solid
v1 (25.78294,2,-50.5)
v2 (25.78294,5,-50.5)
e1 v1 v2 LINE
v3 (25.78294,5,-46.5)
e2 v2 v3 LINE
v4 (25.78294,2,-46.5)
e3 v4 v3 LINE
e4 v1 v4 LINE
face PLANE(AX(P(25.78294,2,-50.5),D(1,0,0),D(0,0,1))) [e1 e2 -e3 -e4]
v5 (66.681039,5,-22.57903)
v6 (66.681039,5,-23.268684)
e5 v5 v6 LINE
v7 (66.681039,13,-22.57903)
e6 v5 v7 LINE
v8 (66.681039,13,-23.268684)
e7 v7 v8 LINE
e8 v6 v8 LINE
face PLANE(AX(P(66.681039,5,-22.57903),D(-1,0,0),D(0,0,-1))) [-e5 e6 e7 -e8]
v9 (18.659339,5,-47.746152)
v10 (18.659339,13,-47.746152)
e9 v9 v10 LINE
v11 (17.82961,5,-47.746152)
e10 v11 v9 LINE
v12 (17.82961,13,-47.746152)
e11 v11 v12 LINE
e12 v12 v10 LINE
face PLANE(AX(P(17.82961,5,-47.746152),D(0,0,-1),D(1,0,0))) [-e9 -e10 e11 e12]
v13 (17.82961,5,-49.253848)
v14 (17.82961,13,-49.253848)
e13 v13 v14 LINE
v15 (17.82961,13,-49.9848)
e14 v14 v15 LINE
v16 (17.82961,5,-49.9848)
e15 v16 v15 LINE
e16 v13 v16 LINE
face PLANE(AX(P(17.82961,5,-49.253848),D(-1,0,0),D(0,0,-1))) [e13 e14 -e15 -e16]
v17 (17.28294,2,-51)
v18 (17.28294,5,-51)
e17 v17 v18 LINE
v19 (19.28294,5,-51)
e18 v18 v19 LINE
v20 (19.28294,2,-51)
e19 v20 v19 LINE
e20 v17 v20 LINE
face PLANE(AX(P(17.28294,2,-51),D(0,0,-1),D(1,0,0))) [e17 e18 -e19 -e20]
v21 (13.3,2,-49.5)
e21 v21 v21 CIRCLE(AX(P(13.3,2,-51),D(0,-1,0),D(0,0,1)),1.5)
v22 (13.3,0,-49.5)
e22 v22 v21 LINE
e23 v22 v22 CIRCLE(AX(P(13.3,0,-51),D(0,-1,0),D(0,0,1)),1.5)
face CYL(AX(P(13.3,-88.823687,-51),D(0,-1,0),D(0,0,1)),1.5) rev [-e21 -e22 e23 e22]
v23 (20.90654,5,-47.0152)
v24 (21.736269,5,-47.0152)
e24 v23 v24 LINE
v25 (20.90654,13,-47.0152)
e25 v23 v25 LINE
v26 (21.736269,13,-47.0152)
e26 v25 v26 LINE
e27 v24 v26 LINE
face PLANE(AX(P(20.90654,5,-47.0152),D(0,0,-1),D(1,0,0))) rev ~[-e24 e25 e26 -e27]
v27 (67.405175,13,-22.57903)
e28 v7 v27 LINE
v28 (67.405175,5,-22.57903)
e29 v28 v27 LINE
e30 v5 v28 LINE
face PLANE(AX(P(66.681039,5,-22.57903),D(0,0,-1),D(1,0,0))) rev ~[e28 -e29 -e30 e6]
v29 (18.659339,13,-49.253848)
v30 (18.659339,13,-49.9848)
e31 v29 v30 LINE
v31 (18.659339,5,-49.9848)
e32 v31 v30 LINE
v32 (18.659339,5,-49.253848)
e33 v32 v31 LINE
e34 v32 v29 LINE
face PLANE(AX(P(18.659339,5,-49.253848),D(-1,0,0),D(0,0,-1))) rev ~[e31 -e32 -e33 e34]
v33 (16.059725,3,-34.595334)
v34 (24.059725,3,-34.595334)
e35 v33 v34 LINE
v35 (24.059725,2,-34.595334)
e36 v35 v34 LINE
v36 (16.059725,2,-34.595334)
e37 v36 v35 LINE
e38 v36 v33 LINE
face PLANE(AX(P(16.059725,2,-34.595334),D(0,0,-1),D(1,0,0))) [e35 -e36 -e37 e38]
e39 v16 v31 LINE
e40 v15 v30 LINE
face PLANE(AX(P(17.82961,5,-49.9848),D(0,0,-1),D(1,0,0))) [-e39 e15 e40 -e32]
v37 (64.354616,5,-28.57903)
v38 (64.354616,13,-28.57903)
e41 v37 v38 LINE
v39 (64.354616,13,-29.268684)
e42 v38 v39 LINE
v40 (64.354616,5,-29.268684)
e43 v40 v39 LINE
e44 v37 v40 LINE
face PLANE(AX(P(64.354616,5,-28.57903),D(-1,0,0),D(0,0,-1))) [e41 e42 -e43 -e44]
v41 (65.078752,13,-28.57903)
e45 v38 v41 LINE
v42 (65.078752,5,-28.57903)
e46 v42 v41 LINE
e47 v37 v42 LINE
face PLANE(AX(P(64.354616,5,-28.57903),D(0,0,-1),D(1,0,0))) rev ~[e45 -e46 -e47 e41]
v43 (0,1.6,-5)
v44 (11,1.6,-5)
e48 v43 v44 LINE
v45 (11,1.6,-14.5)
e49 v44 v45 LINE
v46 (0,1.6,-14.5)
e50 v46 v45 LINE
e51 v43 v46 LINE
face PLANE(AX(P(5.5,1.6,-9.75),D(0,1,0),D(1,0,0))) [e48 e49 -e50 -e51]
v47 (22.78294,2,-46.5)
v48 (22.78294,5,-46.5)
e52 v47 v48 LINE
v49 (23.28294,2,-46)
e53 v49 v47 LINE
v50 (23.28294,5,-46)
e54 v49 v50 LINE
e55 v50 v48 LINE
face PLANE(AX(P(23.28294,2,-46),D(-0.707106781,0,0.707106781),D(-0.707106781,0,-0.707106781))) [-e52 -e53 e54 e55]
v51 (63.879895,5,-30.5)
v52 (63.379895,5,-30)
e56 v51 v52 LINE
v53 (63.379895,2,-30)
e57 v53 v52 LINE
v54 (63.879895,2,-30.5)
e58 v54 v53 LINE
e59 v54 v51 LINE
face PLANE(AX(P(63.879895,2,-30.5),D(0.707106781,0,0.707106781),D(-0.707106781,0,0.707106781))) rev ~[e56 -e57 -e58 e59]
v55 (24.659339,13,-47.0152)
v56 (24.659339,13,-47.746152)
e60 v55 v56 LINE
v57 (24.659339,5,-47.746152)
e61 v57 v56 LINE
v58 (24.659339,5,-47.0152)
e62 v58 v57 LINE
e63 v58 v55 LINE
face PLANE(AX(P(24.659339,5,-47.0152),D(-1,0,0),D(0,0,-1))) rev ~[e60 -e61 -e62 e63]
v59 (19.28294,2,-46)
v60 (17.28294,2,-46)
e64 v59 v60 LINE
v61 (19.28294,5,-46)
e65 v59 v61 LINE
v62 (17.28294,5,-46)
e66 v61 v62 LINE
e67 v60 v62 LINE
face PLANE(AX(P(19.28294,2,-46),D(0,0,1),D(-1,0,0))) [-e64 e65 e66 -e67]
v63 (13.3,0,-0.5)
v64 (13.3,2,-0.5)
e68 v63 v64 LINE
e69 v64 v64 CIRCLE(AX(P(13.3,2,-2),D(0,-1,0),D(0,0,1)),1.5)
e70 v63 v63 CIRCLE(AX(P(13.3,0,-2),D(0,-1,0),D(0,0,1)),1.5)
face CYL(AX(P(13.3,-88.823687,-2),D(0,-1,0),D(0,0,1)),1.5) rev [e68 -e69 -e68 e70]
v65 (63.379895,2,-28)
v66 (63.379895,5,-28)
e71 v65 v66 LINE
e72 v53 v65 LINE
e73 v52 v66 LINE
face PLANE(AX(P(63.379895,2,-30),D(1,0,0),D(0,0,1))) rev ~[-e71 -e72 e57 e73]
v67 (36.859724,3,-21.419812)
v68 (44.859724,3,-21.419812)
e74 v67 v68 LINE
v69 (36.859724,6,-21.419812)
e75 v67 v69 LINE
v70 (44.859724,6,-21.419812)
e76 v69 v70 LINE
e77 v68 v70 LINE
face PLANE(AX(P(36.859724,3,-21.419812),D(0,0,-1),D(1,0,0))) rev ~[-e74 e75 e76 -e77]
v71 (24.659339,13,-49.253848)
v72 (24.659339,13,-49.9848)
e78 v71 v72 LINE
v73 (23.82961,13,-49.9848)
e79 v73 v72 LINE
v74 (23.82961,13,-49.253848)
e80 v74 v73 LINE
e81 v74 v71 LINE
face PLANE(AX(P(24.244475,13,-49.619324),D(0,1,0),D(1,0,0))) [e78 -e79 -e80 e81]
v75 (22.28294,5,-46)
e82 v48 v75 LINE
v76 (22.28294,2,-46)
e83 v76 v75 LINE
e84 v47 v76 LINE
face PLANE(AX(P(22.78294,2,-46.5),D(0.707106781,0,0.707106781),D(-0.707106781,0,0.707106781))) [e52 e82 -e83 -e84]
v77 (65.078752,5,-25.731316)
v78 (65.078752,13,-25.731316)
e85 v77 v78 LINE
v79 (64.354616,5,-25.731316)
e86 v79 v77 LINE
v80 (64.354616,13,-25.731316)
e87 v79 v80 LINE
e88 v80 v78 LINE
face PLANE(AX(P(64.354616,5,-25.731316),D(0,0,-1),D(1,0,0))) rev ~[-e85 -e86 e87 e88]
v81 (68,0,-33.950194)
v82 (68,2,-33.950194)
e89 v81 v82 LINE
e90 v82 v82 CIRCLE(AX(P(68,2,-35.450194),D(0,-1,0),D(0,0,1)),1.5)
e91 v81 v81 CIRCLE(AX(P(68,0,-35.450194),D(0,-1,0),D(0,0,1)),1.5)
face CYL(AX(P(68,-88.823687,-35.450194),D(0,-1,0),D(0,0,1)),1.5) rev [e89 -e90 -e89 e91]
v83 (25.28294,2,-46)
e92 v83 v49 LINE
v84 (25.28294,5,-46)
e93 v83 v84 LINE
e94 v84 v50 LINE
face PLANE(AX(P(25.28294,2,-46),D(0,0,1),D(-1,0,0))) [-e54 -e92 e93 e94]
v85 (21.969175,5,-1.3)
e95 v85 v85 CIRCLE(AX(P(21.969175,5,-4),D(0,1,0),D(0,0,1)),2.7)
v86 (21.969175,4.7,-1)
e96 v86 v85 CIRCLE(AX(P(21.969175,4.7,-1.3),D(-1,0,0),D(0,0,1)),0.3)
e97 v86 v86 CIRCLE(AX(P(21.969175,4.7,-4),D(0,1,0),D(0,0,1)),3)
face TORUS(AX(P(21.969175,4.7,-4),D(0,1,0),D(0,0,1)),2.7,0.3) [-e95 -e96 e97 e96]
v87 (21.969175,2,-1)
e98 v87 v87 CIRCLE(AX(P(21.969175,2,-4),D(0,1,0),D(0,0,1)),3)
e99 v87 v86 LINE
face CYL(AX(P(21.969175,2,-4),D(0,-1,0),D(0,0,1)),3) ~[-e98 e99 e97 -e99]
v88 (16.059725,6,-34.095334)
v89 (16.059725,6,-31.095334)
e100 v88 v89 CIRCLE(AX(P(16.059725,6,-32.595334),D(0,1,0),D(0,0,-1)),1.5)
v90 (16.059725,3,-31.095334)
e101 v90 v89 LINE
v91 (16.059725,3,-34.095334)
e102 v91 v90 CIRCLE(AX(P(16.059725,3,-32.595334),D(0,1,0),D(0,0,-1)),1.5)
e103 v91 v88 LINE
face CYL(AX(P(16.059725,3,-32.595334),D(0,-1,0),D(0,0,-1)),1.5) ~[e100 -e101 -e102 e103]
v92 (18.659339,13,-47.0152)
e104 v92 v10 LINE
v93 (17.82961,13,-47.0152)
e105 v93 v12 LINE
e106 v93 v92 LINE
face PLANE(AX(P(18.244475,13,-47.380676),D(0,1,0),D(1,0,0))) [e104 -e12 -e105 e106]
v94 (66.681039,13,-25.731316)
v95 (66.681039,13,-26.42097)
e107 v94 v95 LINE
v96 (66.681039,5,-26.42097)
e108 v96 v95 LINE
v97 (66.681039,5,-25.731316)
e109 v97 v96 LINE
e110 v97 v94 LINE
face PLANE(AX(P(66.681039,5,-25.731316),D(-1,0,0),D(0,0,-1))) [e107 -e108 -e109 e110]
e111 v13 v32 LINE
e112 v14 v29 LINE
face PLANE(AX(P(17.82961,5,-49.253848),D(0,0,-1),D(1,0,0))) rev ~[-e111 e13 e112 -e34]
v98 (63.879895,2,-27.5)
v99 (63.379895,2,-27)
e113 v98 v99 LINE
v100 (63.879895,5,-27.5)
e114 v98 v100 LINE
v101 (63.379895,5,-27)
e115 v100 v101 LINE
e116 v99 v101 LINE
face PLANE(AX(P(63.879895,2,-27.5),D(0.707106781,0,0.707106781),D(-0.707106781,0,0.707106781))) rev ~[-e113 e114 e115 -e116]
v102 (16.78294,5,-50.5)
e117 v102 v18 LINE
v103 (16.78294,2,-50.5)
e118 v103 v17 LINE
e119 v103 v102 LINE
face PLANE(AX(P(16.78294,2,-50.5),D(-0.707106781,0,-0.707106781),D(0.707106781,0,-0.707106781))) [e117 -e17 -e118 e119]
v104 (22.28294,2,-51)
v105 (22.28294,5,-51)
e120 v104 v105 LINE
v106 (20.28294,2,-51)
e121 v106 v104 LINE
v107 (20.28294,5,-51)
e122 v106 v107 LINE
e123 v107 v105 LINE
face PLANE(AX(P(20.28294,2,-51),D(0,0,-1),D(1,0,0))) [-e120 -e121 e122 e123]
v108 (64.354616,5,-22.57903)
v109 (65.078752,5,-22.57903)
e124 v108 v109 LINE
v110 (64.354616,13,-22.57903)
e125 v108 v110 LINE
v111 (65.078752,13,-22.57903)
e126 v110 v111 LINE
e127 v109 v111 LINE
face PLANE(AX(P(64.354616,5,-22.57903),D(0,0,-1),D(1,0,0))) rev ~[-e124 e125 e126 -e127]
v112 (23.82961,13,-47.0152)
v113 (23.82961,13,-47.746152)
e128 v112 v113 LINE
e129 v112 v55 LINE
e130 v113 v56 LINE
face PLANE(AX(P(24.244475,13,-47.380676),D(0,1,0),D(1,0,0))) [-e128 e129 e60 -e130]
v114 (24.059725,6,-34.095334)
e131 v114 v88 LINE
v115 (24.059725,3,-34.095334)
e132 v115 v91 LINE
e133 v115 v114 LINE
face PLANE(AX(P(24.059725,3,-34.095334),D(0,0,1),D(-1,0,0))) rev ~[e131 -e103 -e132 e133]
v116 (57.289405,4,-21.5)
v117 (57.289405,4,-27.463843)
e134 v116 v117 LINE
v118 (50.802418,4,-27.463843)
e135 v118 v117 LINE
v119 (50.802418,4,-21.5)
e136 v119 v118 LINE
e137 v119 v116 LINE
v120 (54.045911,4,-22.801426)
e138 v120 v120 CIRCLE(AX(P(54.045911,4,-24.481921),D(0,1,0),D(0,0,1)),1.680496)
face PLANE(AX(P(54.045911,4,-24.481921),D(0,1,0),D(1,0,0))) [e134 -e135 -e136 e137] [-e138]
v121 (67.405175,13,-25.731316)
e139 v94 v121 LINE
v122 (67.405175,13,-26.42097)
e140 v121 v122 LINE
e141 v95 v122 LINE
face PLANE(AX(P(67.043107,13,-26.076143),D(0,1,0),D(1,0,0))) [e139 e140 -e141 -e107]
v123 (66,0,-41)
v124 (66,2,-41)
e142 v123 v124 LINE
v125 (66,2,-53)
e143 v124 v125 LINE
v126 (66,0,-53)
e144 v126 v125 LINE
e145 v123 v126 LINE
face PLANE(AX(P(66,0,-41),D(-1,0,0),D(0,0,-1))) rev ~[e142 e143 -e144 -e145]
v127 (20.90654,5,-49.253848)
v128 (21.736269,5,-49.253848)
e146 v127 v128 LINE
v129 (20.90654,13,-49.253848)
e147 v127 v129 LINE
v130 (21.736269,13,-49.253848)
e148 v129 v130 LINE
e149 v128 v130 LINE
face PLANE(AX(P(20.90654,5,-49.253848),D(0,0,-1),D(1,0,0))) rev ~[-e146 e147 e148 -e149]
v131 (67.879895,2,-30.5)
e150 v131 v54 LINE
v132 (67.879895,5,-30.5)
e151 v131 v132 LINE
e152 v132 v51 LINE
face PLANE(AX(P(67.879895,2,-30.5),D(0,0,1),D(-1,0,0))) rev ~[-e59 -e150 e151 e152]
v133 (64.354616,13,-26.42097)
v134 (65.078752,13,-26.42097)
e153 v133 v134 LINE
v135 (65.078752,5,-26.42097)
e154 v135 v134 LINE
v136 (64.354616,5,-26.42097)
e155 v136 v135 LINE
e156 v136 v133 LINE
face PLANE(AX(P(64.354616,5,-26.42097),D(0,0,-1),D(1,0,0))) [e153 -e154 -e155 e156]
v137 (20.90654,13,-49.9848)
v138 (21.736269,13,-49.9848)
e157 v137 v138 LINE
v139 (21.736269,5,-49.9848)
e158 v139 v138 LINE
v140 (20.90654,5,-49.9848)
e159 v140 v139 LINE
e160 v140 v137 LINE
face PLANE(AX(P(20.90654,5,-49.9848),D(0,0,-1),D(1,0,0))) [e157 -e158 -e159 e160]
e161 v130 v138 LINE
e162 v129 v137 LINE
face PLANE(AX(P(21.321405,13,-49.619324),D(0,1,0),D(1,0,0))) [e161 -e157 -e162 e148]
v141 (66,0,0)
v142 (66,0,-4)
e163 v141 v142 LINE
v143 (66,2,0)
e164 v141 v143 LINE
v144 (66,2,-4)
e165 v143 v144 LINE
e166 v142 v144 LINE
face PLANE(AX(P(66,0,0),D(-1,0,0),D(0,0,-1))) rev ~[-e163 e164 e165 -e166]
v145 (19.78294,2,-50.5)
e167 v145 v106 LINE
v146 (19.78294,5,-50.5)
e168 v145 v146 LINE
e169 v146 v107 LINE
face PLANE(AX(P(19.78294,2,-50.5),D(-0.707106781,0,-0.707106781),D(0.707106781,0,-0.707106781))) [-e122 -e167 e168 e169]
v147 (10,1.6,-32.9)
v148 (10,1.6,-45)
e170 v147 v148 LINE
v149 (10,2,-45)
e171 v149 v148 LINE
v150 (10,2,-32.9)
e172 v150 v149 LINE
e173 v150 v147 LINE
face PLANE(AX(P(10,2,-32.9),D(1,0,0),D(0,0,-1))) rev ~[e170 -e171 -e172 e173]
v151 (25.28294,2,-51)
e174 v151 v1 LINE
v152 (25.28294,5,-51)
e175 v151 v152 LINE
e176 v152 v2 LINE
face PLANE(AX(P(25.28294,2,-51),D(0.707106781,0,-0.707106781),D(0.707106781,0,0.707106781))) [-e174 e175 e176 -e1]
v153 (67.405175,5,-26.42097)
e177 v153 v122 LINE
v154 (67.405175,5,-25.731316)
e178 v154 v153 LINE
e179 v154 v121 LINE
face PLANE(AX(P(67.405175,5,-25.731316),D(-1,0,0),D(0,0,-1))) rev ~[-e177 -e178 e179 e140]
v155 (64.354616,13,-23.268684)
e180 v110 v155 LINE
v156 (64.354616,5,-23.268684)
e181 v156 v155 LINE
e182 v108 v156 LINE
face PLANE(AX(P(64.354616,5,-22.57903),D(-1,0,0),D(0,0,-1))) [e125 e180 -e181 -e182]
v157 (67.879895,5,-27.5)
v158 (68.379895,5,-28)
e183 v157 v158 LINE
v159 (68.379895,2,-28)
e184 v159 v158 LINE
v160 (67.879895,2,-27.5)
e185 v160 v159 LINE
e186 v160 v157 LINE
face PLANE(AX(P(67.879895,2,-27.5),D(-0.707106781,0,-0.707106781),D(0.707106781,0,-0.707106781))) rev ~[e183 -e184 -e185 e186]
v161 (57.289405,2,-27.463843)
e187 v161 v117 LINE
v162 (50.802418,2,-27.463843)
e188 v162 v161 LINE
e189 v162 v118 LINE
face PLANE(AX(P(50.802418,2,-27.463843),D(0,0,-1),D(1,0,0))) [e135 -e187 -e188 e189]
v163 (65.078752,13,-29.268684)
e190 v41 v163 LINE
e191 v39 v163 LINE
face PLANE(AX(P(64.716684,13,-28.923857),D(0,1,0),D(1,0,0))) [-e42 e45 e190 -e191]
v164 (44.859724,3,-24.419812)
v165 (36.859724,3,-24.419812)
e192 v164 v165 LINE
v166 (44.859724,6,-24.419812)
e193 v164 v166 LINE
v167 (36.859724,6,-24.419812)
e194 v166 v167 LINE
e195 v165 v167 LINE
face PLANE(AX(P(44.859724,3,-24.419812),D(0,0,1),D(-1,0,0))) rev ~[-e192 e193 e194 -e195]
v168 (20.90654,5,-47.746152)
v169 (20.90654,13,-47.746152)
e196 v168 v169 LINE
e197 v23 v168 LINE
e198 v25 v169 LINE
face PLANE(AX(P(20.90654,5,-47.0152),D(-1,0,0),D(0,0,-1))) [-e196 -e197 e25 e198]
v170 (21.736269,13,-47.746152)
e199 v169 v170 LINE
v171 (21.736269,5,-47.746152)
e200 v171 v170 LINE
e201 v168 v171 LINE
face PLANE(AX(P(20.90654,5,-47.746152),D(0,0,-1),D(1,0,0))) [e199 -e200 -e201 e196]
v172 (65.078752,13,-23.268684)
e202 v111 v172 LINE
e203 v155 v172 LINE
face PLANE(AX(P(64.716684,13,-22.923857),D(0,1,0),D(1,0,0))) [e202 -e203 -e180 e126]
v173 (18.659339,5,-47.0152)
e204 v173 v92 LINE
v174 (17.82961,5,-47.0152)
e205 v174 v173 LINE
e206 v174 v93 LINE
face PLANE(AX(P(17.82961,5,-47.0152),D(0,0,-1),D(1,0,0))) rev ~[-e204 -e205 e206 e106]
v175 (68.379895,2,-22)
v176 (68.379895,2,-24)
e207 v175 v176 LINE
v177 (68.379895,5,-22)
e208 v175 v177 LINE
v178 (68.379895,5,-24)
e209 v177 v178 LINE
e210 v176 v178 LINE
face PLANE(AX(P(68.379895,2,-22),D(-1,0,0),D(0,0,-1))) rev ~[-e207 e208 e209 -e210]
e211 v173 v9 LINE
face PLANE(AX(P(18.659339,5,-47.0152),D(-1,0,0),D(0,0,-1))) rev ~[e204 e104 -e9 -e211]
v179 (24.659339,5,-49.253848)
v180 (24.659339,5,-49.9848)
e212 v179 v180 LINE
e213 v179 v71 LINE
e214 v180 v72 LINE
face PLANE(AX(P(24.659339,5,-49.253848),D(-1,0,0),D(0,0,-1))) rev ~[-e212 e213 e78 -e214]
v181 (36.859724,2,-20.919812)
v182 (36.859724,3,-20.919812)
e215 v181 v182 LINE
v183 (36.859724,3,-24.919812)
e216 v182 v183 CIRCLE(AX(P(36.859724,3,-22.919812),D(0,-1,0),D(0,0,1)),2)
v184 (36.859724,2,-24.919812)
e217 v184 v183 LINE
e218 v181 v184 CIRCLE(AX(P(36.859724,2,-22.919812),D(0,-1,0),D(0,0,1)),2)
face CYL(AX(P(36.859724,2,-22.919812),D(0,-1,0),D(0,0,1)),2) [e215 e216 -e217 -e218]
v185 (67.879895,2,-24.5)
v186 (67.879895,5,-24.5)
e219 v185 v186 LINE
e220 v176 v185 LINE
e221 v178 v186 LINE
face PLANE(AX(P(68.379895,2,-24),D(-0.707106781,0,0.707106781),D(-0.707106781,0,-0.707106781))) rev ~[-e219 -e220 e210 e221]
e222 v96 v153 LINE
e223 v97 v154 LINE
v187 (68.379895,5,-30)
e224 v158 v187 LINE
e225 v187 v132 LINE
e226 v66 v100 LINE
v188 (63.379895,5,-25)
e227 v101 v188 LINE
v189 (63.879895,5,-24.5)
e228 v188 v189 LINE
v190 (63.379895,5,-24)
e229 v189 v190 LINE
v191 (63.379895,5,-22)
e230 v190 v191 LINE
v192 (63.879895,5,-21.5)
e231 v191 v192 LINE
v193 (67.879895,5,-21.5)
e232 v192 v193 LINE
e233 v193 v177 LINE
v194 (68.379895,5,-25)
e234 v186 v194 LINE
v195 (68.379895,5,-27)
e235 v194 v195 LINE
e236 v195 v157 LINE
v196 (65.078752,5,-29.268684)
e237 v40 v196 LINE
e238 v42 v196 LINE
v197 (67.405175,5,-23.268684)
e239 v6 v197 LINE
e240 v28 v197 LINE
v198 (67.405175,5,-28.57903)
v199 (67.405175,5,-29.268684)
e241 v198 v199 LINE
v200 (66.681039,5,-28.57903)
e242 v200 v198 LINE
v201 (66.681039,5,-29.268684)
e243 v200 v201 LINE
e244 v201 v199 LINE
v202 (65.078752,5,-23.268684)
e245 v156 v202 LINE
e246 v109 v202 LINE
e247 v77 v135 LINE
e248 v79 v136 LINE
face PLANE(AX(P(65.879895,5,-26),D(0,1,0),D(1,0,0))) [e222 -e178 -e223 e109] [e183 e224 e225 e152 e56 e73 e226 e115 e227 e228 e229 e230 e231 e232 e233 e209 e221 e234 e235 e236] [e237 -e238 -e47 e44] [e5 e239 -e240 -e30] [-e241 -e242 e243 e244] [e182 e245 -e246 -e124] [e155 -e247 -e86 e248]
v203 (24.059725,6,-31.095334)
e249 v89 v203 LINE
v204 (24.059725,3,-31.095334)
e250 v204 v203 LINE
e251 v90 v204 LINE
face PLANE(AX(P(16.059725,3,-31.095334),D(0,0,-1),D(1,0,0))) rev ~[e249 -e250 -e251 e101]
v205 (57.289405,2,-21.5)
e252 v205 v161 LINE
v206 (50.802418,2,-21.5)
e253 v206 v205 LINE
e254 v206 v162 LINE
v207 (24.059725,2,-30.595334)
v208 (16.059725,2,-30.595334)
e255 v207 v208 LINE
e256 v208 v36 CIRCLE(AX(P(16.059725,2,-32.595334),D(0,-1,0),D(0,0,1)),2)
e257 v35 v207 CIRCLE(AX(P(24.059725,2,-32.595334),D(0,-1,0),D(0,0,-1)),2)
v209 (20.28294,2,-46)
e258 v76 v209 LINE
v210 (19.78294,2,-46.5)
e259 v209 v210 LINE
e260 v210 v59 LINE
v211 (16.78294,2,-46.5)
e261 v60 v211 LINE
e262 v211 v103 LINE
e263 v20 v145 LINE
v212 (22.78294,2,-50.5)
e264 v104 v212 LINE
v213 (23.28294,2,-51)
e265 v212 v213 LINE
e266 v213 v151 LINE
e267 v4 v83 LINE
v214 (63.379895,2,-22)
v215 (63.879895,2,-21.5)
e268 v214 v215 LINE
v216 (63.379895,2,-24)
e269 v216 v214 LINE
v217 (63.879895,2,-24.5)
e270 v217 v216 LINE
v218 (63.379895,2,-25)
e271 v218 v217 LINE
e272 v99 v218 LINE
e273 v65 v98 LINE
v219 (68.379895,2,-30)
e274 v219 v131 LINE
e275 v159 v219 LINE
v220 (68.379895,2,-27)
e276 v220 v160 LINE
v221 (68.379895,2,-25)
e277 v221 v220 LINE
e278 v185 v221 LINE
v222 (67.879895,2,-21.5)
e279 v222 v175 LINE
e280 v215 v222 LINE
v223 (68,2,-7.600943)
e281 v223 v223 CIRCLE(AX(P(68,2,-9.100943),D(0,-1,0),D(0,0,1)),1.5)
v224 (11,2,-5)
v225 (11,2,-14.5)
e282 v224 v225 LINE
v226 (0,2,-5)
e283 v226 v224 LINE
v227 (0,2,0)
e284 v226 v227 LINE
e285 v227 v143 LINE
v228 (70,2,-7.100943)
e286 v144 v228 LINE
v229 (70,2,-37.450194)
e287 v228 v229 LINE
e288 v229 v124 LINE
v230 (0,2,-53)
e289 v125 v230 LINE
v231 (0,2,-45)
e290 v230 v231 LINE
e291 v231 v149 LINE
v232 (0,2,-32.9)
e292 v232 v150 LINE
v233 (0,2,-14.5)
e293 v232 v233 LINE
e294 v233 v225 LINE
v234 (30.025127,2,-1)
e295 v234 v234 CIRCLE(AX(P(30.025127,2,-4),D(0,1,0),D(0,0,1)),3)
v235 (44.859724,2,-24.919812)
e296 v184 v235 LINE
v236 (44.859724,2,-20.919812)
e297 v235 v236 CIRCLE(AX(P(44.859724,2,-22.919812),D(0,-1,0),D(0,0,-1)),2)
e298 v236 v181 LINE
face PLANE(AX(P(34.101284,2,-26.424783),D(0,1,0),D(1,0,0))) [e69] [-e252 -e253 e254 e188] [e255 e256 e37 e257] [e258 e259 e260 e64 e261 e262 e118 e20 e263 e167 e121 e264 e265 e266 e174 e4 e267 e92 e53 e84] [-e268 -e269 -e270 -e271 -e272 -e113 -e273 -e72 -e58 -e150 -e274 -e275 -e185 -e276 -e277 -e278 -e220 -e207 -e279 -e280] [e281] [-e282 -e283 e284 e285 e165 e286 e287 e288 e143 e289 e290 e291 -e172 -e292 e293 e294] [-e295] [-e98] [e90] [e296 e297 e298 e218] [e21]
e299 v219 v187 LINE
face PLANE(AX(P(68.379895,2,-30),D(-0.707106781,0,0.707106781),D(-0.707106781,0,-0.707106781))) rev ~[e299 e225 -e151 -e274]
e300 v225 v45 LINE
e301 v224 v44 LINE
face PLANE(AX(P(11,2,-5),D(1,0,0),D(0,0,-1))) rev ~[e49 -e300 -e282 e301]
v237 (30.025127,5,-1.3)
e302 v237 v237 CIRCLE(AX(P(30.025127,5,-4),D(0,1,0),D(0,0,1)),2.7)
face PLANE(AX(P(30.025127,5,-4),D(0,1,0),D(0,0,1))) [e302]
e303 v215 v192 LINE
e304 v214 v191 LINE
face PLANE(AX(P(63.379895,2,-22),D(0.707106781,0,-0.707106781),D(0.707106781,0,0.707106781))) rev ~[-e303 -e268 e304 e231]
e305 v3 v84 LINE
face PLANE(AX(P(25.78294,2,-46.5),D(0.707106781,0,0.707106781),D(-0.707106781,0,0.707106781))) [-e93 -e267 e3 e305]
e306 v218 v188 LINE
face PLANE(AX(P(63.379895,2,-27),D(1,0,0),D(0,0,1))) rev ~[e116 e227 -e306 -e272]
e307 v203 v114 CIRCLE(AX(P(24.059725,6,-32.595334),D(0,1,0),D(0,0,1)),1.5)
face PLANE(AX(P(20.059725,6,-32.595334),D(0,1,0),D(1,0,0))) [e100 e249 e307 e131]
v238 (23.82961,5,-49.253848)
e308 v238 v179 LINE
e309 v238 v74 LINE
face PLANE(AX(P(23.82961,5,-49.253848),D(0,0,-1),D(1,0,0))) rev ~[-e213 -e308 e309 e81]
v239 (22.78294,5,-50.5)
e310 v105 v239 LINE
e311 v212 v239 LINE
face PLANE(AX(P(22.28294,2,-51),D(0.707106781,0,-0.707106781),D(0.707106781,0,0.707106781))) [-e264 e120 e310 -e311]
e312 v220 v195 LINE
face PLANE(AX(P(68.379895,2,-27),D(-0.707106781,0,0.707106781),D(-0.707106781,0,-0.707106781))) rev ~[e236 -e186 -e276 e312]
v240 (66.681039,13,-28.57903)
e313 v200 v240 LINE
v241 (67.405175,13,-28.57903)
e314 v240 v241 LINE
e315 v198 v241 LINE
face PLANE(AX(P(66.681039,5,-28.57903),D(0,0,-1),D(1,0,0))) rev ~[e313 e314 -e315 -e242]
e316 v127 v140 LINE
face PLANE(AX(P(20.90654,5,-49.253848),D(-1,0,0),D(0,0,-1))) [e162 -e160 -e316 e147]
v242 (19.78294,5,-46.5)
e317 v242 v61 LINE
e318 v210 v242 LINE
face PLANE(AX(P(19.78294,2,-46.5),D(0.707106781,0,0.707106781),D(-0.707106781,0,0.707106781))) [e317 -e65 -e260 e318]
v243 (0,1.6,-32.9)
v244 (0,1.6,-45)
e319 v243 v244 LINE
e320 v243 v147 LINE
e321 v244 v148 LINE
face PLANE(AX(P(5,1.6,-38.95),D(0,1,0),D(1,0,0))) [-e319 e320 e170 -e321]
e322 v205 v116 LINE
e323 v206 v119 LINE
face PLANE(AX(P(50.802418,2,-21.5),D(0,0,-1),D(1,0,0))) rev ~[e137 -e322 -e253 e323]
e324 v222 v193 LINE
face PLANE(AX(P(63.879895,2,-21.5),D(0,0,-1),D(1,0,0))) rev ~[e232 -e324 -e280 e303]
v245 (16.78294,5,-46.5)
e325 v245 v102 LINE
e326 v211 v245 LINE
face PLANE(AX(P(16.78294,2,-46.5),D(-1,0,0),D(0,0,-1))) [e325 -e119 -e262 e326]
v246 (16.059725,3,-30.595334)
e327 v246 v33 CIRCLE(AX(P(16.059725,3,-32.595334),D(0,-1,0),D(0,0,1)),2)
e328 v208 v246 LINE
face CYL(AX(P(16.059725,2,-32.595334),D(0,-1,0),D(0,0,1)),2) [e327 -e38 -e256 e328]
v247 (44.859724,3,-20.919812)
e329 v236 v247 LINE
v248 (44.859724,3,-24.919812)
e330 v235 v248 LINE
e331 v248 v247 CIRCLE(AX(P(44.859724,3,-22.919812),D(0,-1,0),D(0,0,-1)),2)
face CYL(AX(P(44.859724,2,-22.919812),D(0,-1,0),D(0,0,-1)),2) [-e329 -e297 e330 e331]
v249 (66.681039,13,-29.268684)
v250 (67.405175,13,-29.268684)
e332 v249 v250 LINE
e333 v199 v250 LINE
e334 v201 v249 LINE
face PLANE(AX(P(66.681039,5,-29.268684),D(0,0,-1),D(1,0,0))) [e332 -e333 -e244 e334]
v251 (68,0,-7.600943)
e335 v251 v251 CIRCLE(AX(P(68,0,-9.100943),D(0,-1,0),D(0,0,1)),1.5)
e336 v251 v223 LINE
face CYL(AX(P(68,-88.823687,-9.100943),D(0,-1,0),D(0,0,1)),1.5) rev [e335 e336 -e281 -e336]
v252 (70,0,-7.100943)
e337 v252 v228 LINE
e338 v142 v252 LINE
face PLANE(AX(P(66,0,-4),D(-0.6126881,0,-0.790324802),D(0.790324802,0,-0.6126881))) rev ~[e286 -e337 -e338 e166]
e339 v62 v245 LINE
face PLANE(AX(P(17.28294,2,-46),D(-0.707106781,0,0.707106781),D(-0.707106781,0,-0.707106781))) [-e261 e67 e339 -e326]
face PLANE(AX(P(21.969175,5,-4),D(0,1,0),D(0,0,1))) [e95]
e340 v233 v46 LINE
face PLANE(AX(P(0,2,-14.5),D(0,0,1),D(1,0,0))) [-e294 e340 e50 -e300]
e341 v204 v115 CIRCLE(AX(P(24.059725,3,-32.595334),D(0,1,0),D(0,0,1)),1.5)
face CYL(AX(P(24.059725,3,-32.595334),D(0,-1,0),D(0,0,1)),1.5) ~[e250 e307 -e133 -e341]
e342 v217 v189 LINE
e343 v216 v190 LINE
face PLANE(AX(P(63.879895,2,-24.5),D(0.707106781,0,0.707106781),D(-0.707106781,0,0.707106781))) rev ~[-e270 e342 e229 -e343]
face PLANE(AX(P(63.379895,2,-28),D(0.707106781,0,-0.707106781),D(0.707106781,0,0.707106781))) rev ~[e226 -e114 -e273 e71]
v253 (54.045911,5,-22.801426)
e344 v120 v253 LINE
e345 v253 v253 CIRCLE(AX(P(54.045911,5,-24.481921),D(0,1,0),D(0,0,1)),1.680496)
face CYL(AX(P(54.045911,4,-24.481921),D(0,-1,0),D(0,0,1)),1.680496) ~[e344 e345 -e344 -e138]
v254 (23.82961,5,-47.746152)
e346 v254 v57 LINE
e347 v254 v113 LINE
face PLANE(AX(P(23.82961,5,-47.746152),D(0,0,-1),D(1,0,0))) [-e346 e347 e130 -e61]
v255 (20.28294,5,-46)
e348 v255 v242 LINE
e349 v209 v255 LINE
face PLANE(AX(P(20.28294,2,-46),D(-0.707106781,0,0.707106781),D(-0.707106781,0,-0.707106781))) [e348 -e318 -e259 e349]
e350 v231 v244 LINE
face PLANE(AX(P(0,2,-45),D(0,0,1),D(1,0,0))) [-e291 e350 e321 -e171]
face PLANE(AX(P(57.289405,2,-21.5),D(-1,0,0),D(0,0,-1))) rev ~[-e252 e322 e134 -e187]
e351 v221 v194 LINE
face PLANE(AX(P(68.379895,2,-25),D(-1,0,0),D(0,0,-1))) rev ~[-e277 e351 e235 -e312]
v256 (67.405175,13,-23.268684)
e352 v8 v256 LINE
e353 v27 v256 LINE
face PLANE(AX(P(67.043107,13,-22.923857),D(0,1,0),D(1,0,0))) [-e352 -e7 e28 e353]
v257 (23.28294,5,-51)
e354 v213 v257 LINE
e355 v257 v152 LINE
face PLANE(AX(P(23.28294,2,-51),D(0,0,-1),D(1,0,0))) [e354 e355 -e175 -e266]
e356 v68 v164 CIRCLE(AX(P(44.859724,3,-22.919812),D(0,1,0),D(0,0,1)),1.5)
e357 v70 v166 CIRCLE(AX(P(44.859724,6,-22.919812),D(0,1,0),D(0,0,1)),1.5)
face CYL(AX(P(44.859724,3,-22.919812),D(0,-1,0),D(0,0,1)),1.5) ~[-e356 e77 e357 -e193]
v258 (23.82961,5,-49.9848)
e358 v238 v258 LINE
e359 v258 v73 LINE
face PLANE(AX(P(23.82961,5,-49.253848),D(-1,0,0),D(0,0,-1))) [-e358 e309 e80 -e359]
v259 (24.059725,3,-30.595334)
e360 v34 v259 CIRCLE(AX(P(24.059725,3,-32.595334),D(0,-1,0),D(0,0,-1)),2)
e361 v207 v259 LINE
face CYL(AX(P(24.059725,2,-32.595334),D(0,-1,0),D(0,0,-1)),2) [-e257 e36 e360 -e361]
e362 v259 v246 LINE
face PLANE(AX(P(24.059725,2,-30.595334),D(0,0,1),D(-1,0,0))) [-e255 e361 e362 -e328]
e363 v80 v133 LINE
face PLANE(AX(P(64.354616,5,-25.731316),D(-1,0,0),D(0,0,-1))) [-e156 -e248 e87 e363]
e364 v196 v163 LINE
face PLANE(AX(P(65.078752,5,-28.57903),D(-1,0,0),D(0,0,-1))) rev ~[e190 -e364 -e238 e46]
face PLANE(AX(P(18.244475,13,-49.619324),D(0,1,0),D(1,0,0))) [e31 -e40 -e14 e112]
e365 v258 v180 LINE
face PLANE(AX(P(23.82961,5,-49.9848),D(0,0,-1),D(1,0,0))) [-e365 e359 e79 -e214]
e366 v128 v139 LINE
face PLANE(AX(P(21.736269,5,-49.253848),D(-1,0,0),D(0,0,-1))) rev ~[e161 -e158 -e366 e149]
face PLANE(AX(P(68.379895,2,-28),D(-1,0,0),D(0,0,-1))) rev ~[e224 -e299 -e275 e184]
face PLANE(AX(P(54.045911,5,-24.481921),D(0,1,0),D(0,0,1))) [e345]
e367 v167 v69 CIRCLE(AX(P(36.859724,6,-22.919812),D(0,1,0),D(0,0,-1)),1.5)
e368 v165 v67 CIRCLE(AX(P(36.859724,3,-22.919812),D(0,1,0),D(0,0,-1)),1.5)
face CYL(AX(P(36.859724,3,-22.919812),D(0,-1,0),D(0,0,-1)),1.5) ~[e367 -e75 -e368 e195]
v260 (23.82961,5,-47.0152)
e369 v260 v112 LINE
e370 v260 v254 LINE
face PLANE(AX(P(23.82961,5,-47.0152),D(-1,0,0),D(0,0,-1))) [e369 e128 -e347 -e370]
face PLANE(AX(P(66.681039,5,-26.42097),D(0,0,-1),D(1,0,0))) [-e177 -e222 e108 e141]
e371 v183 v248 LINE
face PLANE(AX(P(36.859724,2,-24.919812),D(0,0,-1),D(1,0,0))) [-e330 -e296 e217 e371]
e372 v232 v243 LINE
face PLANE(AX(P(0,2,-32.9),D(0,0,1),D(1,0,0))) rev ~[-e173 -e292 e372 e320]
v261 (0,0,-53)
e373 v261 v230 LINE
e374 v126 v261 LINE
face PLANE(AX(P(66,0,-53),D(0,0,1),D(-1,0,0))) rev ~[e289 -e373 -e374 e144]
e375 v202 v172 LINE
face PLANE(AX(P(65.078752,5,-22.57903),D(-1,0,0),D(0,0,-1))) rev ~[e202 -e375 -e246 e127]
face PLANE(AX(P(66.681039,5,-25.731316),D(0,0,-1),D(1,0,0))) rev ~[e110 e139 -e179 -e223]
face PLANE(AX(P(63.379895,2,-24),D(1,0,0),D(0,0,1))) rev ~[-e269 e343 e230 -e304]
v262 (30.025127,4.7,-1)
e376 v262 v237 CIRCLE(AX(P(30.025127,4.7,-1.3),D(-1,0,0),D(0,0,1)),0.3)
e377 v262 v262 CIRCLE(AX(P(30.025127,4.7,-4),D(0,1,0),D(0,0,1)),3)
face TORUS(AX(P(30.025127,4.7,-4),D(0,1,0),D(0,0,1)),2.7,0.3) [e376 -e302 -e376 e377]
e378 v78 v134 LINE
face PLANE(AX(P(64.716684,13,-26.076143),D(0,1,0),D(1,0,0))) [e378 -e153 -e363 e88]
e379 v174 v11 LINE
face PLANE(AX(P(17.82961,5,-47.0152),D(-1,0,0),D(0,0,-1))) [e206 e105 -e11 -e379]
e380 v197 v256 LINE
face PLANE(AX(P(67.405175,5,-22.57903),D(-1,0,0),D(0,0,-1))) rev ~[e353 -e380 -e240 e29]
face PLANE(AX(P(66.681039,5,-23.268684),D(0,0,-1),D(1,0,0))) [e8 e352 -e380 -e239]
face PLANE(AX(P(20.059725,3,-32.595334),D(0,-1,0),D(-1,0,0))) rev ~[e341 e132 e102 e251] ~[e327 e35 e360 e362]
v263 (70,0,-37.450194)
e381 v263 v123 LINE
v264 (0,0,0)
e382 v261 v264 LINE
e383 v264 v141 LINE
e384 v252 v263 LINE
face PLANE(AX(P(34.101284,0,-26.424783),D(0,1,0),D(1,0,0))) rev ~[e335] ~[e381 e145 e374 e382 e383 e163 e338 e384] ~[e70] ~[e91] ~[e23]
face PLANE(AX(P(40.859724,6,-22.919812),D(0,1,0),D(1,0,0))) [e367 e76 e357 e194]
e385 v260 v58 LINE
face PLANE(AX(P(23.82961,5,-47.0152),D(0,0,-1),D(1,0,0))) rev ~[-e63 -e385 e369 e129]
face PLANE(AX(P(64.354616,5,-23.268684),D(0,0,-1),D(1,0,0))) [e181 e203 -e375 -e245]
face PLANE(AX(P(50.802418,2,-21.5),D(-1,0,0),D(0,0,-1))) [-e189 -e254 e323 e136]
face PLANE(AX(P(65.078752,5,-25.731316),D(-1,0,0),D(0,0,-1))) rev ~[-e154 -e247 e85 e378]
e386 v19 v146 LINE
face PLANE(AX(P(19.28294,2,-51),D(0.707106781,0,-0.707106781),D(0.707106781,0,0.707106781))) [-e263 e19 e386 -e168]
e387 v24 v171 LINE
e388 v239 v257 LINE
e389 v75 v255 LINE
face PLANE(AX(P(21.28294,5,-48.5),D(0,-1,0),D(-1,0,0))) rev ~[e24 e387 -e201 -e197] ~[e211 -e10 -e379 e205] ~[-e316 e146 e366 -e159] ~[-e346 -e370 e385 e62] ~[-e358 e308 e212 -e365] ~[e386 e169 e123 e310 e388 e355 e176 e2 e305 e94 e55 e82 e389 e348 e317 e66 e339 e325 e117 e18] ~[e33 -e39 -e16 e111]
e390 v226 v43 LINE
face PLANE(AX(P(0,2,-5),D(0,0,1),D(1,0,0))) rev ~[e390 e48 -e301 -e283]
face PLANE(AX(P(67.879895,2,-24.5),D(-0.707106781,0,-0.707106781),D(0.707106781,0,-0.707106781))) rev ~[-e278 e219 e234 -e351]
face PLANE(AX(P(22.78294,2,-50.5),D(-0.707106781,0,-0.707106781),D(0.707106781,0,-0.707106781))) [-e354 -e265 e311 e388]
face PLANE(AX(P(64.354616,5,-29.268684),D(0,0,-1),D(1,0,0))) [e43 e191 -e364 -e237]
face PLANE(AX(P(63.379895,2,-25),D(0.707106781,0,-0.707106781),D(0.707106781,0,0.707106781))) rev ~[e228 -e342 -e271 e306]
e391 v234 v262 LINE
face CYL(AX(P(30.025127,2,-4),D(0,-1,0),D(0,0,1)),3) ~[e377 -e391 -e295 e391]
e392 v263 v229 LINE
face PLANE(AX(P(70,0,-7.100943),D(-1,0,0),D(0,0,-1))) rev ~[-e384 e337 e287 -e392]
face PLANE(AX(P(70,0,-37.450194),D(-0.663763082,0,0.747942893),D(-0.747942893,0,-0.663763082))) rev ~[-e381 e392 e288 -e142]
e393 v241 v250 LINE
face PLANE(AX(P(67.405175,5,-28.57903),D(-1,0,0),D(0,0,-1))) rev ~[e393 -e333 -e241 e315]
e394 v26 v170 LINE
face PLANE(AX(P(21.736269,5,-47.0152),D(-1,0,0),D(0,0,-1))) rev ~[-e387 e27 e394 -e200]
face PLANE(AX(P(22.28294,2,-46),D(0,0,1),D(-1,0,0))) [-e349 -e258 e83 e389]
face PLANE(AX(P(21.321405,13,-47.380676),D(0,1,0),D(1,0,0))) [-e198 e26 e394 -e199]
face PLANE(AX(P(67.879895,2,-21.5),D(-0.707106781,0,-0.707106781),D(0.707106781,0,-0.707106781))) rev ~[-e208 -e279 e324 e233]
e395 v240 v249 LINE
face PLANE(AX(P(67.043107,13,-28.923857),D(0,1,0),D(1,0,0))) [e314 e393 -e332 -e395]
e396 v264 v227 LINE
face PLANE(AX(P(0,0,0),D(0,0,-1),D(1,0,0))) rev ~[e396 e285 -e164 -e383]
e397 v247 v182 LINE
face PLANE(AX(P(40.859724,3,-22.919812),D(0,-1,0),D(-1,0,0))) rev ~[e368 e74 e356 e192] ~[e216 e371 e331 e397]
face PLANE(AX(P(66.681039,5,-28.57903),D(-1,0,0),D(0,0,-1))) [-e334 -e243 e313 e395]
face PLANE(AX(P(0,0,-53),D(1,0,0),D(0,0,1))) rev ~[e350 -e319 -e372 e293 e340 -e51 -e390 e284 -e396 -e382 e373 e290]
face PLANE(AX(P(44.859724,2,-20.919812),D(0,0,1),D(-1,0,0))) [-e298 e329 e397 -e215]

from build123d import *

# Parameters (mm, degrees)
BOSS_EXTRUDE1_DEPTH     = 2
CUT_EXTRUDE2_DEPTH      = 88.82368701
CUT_EXTRUDE2_DEPTH_BACK = 88.82368701
SKETCH2_R               = 1.5
CUT_EXTRUDE7_START      = 2
SKETCH3_W               = 10
SKETCH3_H               = 12.1
SKETCH3_W_2             = 11
SKETCH3_H_2             = 9.5
CUT_EXTRUDE7_DEPTH      = 0.4
BOSS_EXTRUDE2_DEPTH     = 3
LPATTERN1_COUNT         = 3
LPATTERN1_PITCH         = 3
SKETCH5_W               = 0.724136619
SKETCH5_H               = 0.689653923
BOSS_EXTRUDE4_DEPTH     = 8
BOSS_EXTRUDE5_DEPTH     = 3
LPATTERN3_COUNT         = 3
LPATTERN3_PITCH         = 3
SKETCH8_W               = 0.829728978
SKETCH8_H               = 0.730951718
BOSS_EXTRUDE6_DEPTH     = 8
SKETCH9_W               = 6.486986995
SKETCH9_H               = 5.963842883
BOSS_EXTRUDE7_DEPTH     = 2
SKETCH11_R              = 1.680495579
BOSS_EXTRUDE8_DEPTH     = 1
BOSS_EXTRUDE9_DEPTH     = 1
BOSS_EXTRUDE10_DEPTH    = 3
BOSS_EXTRUDE11_DEPTH    = 1
BOSS_EXTRUDE12_DEPTH    = 3
SKETCH16_R              = 3
BOSS_EXTRUDE13_DEPTH    = 3
FILLET1_R               = 0.3


with BuildPart() as part:
    # Sketch1 → Boss-Extrude1 (new body)
    with BuildSketch(Plane(origin=(0, 0, 0), x_dir=(1, 0, 0), z_dir=(0, 1, 0))):
        Polygon((0, 0), (66, 0), (66, 4), (70, 7.100943302), (70, 37.450193791), (66, 41), (66, 53), (0, 53), align=None)
    extrude(amount=BOSS_EXTRUDE1_DEPTH)

    # Sketch2 → Cut-Extrude2 (cut, two sides: drawn at the far end of the back side and taken through both)
    with BuildSketch(Plane(origin=(0, 0, 0), x_dir=(1, 0, 0), z_dir=(0, 1, 0)).offset(-CUT_EXTRUDE2_DEPTH_BACK)):
        with Locations(Location((68, 35.450193791, 0), (0, 0, 270))):
            Circle(SKETCH2_R)
        with Locations(Location((68, 9.100943302, 0), (0, 0, 270))):
            Circle(SKETCH2_R)
        with Locations(Location((13.3, 2, 0), (0, 0, 270))):
            Circle(SKETCH2_R)
        with Locations(Location((13.3, 51, 0), (0, 0, 270))):
            Circle(SKETCH2_R)
    extrude(amount=CUT_EXTRUDE2_DEPTH + CUT_EXTRUDE2_DEPTH_BACK, mode=Mode.SUBTRACT)

    # Sketch3 → Cut-Extrude7 (cut)
    with BuildSketch(Plane(origin=(0, 0, 0), x_dir=(1, 0, 0), z_dir=(0, 1, 0)).offset(CUT_EXTRUDE7_START)):
        with Locations((5, 38.95)):
            Rectangle(SKETCH3_W, SKETCH3_H)
        with Locations((5.5, 9.75)):
            Rectangle(SKETCH3_W_2, SKETCH3_H_2)
    extrude(amount=-CUT_EXTRUDE7_DEPTH, mode=Mode.SUBTRACT)

    # Sketch4 → Boss-Extrude2 (add)
    with BuildSketch(Plane(origin=(0, 2, 0), x_dir=(1, 0, 0), z_dir=(0, 1, 0))):
        Polygon((63.879895434, 30.5), (63.379895434, 30), (63.379895434, 28), (63.879895434, 27.5), (67.879895434, 27.5), (68.379895434, 28), (68.379895434, 30), (67.879895434, 30.5), align=None)
    boss_extrude2 = extrude(amount=BOSS_EXTRUDE2_DEPTH)

    # LPattern1: Boss-Extrude2 ×3
    with Locations(*[(0, 0, i * LPATTERN1_PITCH) for i in range(1, LPATTERN1_COUNT)]):
        add(boss_extrude2)

    # Sketch5 → Boss-Extrude4 (add)
    with BuildSketch(Plane(origin=(0, 5, 0), x_dir=(1, 0, 0), z_dir=(0, 1, 0))):
        with Locations((64.716683918, 28.923857239)):
            Rectangle(SKETCH5_W, SKETCH5_H)
        with Locations((67.04310695, 28.923857239)):
            Rectangle(SKETCH5_W, SKETCH5_H)
        with Locations((67.04310695, 26.076142762)):
            Rectangle(SKETCH5_W, SKETCH5_H)
        with Locations((64.716683918, 26.076142762)):
            Rectangle(SKETCH5_W, SKETCH5_H)
        with Locations((67.04310695, 22.923857239)):
            Rectangle(SKETCH5_W, SKETCH5_H)
        with Locations((64.716683918, 22.923857239)):
            Rectangle(SKETCH5_W, SKETCH5_H)
    extrude(amount=BOSS_EXTRUDE4_DEPTH)

    # Sketch6 → Boss-Extrude5 (add)
    with BuildSketch(Plane(origin=(0, 2, 0), x_dir=(1, 0, 0), z_dir=(0, 1, 0))):
        Polygon((17.282939777, 51), (19.282939777, 51), (19.782939777, 50.5), (19.782939777, 46.5), (19.282939777, 46), (17.282939777, 46), (16.782939777, 46.5), (16.782939777, 50.5), align=None)
    boss_extrude5 = extrude(amount=BOSS_EXTRUDE5_DEPTH)

    # LPattern3: Boss-Extrude5 ×3
    with Locations(*[(i * LPATTERN3_PITCH, 0, 0) for i in range(1, LPATTERN3_COUNT)]):
        add(boss_extrude5)

    # Sketch8 → Boss-Extrude6 (add)
    with BuildSketch(Plane(origin=(0, 5, 0), x_dir=(1, 0, 0), z_dir=(0, 1, 0))):
        with Locations((21.321404848, 49.61932377)):
            Rectangle(SKETCH8_W, SKETCH8_H)
        with Locations((18.244474705, 49.61932377)):
            Rectangle(SKETCH8_W, SKETCH8_H)
        with Locations((24.244474705, 49.61932377)):
            Rectangle(SKETCH8_W, SKETCH8_H)
        with Locations((24.244474705, 47.38067623)):
            Rectangle(SKETCH8_W, SKETCH8_H)
        with Locations((21.321404848, 47.38067623)):
            Rectangle(SKETCH8_W, SKETCH8_H)
        with Locations((18.244474705, 47.38067623)):
            Rectangle(SKETCH8_W, SKETCH8_H)
    extrude(amount=BOSS_EXTRUDE6_DEPTH)

    # Sketch9 → Boss-Extrude7 (add)
    with BuildSketch(Plane(origin=(0, 2, 0), x_dir=(1, 0, 0), z_dir=(0, 1, 0))):
        with Locations((54.045911219, 24.481921441)):
            Rectangle(SKETCH9_W, SKETCH9_H)
    extrude(amount=BOSS_EXTRUDE7_DEPTH)

    # Sketch11 → Boss-Extrude8 (add)
    with BuildSketch(Plane(origin=(0, 4, 0), x_dir=(1, 0, 0), z_dir=(0, 1, 0))):
        with Locations(Location((54.04591122, 24.481921441, 0), (0, 0, 270))):
            Circle(SKETCH11_R)
    extrude(amount=BOSS_EXTRUDE8_DEPTH)

    # Sketch12 → Boss-Extrude9 (add)
    with BuildSketch(Plane(origin=(0, 2, 0), x_dir=(1, 0, 0), z_dir=(0, 1, 0))):
        with BuildLine():
            Line((36.85972443, 24.919811949), (44.85972443, 24.919811949))
            ThreePointArc((44.85972443, 24.919811949), (46.85972443, 22.919811949), (44.85972443, 20.919811949))
            Line((44.85972443, 20.919811949), (36.85972443, 20.919811949))
            ThreePointArc((36.85972443, 20.919811949), (34.85972443, 22.919811949), (36.85972443, 24.919811949))
        make_face()
    extrude(amount=BOSS_EXTRUDE9_DEPTH)

    # Sketch13 → Boss-Extrude10 (add)
    with BuildSketch(Plane(origin=(0, 3, 0), x_dir=(1, 0, 0), z_dir=(0, 1, 0))):
        with BuildLine():
            Line((44.85972443, 24.419811949), (36.85972443, 24.419811949))
            ThreePointArc((36.85972443, 24.419811949), (35.35972443, 22.919811949), (36.85972443, 21.419811949))
            Line((36.85972443, 21.419811949), (44.85972443, 21.419811949))
            ThreePointArc((44.85972443, 21.419811949), (46.35972443, 22.919811949), (44.85972443, 24.419811949))
        make_face()
    extrude(amount=BOSS_EXTRUDE10_DEPTH)

    # Sketch14 → Boss-Extrude11 (add)
    with BuildSketch(Plane(origin=(0, 2, 0), x_dir=(1, 0, 0), z_dir=(0, 1, 0))):
        with BuildLine():
            Line((16.059725168, 34.595333511), (24.059725168, 34.595333511))
            ThreePointArc((24.059725168, 34.595333511), (26.059725168, 32.595333511), (24.059725168, 30.595333511))
            Line((24.059725168, 30.595333511), (16.059725168, 30.595333511))
            ThreePointArc((16.059725168, 30.595333511), (14.059725168, 32.595333511), (16.059725168, 34.595333511))
        make_face()
    extrude(amount=BOSS_EXTRUDE11_DEPTH)

    # Sketch15 → Boss-Extrude12 (add)
    with BuildSketch(Plane(origin=(0, 3, 0), x_dir=(1, 0, 0), z_dir=(0, 1, 0))):
        with BuildLine():
            Line((16.059725168, 31.095333511), (24.059725168, 31.095333511))
            ThreePointArc((24.059725168, 31.095333511), (25.559725168, 32.595333511), (24.059725168, 34.095333511))
            Line((24.059725168, 34.095333511), (16.059725168, 34.095333511))
            ThreePointArc((16.059725168, 34.095333511), (14.559725168, 32.595333511), (16.059725168, 31.095333511))
        make_face()
    extrude(amount=BOSS_EXTRUDE12_DEPTH)

    # Sketch16 → Boss-Extrude13 (add)
    with BuildSketch(Plane(origin=(0, 2, 0), x_dir=(1, 0, 0), z_dir=(0, 1, 0))):
        with Locations(Location((21.969175252, 4, 0), (0, 0, 270))):
            Circle(SKETCH16_R)
        with Locations(Location((30.025126654, 4, 0), (0, 0, 270))):
            Circle(SKETCH16_R)
    extrude(amount=BOSS_EXTRUDE13_DEPTH)

    # Fillet1
    fillet1_edges = [part.edges().sort_by_distance(p)[0] for p in [
        (21.969175252, 5, -7),
        (30.025126654, 5, -7),
    ]]
    fillet(fillet1_edges, radius=FILLET1_R)


solid = part.part
